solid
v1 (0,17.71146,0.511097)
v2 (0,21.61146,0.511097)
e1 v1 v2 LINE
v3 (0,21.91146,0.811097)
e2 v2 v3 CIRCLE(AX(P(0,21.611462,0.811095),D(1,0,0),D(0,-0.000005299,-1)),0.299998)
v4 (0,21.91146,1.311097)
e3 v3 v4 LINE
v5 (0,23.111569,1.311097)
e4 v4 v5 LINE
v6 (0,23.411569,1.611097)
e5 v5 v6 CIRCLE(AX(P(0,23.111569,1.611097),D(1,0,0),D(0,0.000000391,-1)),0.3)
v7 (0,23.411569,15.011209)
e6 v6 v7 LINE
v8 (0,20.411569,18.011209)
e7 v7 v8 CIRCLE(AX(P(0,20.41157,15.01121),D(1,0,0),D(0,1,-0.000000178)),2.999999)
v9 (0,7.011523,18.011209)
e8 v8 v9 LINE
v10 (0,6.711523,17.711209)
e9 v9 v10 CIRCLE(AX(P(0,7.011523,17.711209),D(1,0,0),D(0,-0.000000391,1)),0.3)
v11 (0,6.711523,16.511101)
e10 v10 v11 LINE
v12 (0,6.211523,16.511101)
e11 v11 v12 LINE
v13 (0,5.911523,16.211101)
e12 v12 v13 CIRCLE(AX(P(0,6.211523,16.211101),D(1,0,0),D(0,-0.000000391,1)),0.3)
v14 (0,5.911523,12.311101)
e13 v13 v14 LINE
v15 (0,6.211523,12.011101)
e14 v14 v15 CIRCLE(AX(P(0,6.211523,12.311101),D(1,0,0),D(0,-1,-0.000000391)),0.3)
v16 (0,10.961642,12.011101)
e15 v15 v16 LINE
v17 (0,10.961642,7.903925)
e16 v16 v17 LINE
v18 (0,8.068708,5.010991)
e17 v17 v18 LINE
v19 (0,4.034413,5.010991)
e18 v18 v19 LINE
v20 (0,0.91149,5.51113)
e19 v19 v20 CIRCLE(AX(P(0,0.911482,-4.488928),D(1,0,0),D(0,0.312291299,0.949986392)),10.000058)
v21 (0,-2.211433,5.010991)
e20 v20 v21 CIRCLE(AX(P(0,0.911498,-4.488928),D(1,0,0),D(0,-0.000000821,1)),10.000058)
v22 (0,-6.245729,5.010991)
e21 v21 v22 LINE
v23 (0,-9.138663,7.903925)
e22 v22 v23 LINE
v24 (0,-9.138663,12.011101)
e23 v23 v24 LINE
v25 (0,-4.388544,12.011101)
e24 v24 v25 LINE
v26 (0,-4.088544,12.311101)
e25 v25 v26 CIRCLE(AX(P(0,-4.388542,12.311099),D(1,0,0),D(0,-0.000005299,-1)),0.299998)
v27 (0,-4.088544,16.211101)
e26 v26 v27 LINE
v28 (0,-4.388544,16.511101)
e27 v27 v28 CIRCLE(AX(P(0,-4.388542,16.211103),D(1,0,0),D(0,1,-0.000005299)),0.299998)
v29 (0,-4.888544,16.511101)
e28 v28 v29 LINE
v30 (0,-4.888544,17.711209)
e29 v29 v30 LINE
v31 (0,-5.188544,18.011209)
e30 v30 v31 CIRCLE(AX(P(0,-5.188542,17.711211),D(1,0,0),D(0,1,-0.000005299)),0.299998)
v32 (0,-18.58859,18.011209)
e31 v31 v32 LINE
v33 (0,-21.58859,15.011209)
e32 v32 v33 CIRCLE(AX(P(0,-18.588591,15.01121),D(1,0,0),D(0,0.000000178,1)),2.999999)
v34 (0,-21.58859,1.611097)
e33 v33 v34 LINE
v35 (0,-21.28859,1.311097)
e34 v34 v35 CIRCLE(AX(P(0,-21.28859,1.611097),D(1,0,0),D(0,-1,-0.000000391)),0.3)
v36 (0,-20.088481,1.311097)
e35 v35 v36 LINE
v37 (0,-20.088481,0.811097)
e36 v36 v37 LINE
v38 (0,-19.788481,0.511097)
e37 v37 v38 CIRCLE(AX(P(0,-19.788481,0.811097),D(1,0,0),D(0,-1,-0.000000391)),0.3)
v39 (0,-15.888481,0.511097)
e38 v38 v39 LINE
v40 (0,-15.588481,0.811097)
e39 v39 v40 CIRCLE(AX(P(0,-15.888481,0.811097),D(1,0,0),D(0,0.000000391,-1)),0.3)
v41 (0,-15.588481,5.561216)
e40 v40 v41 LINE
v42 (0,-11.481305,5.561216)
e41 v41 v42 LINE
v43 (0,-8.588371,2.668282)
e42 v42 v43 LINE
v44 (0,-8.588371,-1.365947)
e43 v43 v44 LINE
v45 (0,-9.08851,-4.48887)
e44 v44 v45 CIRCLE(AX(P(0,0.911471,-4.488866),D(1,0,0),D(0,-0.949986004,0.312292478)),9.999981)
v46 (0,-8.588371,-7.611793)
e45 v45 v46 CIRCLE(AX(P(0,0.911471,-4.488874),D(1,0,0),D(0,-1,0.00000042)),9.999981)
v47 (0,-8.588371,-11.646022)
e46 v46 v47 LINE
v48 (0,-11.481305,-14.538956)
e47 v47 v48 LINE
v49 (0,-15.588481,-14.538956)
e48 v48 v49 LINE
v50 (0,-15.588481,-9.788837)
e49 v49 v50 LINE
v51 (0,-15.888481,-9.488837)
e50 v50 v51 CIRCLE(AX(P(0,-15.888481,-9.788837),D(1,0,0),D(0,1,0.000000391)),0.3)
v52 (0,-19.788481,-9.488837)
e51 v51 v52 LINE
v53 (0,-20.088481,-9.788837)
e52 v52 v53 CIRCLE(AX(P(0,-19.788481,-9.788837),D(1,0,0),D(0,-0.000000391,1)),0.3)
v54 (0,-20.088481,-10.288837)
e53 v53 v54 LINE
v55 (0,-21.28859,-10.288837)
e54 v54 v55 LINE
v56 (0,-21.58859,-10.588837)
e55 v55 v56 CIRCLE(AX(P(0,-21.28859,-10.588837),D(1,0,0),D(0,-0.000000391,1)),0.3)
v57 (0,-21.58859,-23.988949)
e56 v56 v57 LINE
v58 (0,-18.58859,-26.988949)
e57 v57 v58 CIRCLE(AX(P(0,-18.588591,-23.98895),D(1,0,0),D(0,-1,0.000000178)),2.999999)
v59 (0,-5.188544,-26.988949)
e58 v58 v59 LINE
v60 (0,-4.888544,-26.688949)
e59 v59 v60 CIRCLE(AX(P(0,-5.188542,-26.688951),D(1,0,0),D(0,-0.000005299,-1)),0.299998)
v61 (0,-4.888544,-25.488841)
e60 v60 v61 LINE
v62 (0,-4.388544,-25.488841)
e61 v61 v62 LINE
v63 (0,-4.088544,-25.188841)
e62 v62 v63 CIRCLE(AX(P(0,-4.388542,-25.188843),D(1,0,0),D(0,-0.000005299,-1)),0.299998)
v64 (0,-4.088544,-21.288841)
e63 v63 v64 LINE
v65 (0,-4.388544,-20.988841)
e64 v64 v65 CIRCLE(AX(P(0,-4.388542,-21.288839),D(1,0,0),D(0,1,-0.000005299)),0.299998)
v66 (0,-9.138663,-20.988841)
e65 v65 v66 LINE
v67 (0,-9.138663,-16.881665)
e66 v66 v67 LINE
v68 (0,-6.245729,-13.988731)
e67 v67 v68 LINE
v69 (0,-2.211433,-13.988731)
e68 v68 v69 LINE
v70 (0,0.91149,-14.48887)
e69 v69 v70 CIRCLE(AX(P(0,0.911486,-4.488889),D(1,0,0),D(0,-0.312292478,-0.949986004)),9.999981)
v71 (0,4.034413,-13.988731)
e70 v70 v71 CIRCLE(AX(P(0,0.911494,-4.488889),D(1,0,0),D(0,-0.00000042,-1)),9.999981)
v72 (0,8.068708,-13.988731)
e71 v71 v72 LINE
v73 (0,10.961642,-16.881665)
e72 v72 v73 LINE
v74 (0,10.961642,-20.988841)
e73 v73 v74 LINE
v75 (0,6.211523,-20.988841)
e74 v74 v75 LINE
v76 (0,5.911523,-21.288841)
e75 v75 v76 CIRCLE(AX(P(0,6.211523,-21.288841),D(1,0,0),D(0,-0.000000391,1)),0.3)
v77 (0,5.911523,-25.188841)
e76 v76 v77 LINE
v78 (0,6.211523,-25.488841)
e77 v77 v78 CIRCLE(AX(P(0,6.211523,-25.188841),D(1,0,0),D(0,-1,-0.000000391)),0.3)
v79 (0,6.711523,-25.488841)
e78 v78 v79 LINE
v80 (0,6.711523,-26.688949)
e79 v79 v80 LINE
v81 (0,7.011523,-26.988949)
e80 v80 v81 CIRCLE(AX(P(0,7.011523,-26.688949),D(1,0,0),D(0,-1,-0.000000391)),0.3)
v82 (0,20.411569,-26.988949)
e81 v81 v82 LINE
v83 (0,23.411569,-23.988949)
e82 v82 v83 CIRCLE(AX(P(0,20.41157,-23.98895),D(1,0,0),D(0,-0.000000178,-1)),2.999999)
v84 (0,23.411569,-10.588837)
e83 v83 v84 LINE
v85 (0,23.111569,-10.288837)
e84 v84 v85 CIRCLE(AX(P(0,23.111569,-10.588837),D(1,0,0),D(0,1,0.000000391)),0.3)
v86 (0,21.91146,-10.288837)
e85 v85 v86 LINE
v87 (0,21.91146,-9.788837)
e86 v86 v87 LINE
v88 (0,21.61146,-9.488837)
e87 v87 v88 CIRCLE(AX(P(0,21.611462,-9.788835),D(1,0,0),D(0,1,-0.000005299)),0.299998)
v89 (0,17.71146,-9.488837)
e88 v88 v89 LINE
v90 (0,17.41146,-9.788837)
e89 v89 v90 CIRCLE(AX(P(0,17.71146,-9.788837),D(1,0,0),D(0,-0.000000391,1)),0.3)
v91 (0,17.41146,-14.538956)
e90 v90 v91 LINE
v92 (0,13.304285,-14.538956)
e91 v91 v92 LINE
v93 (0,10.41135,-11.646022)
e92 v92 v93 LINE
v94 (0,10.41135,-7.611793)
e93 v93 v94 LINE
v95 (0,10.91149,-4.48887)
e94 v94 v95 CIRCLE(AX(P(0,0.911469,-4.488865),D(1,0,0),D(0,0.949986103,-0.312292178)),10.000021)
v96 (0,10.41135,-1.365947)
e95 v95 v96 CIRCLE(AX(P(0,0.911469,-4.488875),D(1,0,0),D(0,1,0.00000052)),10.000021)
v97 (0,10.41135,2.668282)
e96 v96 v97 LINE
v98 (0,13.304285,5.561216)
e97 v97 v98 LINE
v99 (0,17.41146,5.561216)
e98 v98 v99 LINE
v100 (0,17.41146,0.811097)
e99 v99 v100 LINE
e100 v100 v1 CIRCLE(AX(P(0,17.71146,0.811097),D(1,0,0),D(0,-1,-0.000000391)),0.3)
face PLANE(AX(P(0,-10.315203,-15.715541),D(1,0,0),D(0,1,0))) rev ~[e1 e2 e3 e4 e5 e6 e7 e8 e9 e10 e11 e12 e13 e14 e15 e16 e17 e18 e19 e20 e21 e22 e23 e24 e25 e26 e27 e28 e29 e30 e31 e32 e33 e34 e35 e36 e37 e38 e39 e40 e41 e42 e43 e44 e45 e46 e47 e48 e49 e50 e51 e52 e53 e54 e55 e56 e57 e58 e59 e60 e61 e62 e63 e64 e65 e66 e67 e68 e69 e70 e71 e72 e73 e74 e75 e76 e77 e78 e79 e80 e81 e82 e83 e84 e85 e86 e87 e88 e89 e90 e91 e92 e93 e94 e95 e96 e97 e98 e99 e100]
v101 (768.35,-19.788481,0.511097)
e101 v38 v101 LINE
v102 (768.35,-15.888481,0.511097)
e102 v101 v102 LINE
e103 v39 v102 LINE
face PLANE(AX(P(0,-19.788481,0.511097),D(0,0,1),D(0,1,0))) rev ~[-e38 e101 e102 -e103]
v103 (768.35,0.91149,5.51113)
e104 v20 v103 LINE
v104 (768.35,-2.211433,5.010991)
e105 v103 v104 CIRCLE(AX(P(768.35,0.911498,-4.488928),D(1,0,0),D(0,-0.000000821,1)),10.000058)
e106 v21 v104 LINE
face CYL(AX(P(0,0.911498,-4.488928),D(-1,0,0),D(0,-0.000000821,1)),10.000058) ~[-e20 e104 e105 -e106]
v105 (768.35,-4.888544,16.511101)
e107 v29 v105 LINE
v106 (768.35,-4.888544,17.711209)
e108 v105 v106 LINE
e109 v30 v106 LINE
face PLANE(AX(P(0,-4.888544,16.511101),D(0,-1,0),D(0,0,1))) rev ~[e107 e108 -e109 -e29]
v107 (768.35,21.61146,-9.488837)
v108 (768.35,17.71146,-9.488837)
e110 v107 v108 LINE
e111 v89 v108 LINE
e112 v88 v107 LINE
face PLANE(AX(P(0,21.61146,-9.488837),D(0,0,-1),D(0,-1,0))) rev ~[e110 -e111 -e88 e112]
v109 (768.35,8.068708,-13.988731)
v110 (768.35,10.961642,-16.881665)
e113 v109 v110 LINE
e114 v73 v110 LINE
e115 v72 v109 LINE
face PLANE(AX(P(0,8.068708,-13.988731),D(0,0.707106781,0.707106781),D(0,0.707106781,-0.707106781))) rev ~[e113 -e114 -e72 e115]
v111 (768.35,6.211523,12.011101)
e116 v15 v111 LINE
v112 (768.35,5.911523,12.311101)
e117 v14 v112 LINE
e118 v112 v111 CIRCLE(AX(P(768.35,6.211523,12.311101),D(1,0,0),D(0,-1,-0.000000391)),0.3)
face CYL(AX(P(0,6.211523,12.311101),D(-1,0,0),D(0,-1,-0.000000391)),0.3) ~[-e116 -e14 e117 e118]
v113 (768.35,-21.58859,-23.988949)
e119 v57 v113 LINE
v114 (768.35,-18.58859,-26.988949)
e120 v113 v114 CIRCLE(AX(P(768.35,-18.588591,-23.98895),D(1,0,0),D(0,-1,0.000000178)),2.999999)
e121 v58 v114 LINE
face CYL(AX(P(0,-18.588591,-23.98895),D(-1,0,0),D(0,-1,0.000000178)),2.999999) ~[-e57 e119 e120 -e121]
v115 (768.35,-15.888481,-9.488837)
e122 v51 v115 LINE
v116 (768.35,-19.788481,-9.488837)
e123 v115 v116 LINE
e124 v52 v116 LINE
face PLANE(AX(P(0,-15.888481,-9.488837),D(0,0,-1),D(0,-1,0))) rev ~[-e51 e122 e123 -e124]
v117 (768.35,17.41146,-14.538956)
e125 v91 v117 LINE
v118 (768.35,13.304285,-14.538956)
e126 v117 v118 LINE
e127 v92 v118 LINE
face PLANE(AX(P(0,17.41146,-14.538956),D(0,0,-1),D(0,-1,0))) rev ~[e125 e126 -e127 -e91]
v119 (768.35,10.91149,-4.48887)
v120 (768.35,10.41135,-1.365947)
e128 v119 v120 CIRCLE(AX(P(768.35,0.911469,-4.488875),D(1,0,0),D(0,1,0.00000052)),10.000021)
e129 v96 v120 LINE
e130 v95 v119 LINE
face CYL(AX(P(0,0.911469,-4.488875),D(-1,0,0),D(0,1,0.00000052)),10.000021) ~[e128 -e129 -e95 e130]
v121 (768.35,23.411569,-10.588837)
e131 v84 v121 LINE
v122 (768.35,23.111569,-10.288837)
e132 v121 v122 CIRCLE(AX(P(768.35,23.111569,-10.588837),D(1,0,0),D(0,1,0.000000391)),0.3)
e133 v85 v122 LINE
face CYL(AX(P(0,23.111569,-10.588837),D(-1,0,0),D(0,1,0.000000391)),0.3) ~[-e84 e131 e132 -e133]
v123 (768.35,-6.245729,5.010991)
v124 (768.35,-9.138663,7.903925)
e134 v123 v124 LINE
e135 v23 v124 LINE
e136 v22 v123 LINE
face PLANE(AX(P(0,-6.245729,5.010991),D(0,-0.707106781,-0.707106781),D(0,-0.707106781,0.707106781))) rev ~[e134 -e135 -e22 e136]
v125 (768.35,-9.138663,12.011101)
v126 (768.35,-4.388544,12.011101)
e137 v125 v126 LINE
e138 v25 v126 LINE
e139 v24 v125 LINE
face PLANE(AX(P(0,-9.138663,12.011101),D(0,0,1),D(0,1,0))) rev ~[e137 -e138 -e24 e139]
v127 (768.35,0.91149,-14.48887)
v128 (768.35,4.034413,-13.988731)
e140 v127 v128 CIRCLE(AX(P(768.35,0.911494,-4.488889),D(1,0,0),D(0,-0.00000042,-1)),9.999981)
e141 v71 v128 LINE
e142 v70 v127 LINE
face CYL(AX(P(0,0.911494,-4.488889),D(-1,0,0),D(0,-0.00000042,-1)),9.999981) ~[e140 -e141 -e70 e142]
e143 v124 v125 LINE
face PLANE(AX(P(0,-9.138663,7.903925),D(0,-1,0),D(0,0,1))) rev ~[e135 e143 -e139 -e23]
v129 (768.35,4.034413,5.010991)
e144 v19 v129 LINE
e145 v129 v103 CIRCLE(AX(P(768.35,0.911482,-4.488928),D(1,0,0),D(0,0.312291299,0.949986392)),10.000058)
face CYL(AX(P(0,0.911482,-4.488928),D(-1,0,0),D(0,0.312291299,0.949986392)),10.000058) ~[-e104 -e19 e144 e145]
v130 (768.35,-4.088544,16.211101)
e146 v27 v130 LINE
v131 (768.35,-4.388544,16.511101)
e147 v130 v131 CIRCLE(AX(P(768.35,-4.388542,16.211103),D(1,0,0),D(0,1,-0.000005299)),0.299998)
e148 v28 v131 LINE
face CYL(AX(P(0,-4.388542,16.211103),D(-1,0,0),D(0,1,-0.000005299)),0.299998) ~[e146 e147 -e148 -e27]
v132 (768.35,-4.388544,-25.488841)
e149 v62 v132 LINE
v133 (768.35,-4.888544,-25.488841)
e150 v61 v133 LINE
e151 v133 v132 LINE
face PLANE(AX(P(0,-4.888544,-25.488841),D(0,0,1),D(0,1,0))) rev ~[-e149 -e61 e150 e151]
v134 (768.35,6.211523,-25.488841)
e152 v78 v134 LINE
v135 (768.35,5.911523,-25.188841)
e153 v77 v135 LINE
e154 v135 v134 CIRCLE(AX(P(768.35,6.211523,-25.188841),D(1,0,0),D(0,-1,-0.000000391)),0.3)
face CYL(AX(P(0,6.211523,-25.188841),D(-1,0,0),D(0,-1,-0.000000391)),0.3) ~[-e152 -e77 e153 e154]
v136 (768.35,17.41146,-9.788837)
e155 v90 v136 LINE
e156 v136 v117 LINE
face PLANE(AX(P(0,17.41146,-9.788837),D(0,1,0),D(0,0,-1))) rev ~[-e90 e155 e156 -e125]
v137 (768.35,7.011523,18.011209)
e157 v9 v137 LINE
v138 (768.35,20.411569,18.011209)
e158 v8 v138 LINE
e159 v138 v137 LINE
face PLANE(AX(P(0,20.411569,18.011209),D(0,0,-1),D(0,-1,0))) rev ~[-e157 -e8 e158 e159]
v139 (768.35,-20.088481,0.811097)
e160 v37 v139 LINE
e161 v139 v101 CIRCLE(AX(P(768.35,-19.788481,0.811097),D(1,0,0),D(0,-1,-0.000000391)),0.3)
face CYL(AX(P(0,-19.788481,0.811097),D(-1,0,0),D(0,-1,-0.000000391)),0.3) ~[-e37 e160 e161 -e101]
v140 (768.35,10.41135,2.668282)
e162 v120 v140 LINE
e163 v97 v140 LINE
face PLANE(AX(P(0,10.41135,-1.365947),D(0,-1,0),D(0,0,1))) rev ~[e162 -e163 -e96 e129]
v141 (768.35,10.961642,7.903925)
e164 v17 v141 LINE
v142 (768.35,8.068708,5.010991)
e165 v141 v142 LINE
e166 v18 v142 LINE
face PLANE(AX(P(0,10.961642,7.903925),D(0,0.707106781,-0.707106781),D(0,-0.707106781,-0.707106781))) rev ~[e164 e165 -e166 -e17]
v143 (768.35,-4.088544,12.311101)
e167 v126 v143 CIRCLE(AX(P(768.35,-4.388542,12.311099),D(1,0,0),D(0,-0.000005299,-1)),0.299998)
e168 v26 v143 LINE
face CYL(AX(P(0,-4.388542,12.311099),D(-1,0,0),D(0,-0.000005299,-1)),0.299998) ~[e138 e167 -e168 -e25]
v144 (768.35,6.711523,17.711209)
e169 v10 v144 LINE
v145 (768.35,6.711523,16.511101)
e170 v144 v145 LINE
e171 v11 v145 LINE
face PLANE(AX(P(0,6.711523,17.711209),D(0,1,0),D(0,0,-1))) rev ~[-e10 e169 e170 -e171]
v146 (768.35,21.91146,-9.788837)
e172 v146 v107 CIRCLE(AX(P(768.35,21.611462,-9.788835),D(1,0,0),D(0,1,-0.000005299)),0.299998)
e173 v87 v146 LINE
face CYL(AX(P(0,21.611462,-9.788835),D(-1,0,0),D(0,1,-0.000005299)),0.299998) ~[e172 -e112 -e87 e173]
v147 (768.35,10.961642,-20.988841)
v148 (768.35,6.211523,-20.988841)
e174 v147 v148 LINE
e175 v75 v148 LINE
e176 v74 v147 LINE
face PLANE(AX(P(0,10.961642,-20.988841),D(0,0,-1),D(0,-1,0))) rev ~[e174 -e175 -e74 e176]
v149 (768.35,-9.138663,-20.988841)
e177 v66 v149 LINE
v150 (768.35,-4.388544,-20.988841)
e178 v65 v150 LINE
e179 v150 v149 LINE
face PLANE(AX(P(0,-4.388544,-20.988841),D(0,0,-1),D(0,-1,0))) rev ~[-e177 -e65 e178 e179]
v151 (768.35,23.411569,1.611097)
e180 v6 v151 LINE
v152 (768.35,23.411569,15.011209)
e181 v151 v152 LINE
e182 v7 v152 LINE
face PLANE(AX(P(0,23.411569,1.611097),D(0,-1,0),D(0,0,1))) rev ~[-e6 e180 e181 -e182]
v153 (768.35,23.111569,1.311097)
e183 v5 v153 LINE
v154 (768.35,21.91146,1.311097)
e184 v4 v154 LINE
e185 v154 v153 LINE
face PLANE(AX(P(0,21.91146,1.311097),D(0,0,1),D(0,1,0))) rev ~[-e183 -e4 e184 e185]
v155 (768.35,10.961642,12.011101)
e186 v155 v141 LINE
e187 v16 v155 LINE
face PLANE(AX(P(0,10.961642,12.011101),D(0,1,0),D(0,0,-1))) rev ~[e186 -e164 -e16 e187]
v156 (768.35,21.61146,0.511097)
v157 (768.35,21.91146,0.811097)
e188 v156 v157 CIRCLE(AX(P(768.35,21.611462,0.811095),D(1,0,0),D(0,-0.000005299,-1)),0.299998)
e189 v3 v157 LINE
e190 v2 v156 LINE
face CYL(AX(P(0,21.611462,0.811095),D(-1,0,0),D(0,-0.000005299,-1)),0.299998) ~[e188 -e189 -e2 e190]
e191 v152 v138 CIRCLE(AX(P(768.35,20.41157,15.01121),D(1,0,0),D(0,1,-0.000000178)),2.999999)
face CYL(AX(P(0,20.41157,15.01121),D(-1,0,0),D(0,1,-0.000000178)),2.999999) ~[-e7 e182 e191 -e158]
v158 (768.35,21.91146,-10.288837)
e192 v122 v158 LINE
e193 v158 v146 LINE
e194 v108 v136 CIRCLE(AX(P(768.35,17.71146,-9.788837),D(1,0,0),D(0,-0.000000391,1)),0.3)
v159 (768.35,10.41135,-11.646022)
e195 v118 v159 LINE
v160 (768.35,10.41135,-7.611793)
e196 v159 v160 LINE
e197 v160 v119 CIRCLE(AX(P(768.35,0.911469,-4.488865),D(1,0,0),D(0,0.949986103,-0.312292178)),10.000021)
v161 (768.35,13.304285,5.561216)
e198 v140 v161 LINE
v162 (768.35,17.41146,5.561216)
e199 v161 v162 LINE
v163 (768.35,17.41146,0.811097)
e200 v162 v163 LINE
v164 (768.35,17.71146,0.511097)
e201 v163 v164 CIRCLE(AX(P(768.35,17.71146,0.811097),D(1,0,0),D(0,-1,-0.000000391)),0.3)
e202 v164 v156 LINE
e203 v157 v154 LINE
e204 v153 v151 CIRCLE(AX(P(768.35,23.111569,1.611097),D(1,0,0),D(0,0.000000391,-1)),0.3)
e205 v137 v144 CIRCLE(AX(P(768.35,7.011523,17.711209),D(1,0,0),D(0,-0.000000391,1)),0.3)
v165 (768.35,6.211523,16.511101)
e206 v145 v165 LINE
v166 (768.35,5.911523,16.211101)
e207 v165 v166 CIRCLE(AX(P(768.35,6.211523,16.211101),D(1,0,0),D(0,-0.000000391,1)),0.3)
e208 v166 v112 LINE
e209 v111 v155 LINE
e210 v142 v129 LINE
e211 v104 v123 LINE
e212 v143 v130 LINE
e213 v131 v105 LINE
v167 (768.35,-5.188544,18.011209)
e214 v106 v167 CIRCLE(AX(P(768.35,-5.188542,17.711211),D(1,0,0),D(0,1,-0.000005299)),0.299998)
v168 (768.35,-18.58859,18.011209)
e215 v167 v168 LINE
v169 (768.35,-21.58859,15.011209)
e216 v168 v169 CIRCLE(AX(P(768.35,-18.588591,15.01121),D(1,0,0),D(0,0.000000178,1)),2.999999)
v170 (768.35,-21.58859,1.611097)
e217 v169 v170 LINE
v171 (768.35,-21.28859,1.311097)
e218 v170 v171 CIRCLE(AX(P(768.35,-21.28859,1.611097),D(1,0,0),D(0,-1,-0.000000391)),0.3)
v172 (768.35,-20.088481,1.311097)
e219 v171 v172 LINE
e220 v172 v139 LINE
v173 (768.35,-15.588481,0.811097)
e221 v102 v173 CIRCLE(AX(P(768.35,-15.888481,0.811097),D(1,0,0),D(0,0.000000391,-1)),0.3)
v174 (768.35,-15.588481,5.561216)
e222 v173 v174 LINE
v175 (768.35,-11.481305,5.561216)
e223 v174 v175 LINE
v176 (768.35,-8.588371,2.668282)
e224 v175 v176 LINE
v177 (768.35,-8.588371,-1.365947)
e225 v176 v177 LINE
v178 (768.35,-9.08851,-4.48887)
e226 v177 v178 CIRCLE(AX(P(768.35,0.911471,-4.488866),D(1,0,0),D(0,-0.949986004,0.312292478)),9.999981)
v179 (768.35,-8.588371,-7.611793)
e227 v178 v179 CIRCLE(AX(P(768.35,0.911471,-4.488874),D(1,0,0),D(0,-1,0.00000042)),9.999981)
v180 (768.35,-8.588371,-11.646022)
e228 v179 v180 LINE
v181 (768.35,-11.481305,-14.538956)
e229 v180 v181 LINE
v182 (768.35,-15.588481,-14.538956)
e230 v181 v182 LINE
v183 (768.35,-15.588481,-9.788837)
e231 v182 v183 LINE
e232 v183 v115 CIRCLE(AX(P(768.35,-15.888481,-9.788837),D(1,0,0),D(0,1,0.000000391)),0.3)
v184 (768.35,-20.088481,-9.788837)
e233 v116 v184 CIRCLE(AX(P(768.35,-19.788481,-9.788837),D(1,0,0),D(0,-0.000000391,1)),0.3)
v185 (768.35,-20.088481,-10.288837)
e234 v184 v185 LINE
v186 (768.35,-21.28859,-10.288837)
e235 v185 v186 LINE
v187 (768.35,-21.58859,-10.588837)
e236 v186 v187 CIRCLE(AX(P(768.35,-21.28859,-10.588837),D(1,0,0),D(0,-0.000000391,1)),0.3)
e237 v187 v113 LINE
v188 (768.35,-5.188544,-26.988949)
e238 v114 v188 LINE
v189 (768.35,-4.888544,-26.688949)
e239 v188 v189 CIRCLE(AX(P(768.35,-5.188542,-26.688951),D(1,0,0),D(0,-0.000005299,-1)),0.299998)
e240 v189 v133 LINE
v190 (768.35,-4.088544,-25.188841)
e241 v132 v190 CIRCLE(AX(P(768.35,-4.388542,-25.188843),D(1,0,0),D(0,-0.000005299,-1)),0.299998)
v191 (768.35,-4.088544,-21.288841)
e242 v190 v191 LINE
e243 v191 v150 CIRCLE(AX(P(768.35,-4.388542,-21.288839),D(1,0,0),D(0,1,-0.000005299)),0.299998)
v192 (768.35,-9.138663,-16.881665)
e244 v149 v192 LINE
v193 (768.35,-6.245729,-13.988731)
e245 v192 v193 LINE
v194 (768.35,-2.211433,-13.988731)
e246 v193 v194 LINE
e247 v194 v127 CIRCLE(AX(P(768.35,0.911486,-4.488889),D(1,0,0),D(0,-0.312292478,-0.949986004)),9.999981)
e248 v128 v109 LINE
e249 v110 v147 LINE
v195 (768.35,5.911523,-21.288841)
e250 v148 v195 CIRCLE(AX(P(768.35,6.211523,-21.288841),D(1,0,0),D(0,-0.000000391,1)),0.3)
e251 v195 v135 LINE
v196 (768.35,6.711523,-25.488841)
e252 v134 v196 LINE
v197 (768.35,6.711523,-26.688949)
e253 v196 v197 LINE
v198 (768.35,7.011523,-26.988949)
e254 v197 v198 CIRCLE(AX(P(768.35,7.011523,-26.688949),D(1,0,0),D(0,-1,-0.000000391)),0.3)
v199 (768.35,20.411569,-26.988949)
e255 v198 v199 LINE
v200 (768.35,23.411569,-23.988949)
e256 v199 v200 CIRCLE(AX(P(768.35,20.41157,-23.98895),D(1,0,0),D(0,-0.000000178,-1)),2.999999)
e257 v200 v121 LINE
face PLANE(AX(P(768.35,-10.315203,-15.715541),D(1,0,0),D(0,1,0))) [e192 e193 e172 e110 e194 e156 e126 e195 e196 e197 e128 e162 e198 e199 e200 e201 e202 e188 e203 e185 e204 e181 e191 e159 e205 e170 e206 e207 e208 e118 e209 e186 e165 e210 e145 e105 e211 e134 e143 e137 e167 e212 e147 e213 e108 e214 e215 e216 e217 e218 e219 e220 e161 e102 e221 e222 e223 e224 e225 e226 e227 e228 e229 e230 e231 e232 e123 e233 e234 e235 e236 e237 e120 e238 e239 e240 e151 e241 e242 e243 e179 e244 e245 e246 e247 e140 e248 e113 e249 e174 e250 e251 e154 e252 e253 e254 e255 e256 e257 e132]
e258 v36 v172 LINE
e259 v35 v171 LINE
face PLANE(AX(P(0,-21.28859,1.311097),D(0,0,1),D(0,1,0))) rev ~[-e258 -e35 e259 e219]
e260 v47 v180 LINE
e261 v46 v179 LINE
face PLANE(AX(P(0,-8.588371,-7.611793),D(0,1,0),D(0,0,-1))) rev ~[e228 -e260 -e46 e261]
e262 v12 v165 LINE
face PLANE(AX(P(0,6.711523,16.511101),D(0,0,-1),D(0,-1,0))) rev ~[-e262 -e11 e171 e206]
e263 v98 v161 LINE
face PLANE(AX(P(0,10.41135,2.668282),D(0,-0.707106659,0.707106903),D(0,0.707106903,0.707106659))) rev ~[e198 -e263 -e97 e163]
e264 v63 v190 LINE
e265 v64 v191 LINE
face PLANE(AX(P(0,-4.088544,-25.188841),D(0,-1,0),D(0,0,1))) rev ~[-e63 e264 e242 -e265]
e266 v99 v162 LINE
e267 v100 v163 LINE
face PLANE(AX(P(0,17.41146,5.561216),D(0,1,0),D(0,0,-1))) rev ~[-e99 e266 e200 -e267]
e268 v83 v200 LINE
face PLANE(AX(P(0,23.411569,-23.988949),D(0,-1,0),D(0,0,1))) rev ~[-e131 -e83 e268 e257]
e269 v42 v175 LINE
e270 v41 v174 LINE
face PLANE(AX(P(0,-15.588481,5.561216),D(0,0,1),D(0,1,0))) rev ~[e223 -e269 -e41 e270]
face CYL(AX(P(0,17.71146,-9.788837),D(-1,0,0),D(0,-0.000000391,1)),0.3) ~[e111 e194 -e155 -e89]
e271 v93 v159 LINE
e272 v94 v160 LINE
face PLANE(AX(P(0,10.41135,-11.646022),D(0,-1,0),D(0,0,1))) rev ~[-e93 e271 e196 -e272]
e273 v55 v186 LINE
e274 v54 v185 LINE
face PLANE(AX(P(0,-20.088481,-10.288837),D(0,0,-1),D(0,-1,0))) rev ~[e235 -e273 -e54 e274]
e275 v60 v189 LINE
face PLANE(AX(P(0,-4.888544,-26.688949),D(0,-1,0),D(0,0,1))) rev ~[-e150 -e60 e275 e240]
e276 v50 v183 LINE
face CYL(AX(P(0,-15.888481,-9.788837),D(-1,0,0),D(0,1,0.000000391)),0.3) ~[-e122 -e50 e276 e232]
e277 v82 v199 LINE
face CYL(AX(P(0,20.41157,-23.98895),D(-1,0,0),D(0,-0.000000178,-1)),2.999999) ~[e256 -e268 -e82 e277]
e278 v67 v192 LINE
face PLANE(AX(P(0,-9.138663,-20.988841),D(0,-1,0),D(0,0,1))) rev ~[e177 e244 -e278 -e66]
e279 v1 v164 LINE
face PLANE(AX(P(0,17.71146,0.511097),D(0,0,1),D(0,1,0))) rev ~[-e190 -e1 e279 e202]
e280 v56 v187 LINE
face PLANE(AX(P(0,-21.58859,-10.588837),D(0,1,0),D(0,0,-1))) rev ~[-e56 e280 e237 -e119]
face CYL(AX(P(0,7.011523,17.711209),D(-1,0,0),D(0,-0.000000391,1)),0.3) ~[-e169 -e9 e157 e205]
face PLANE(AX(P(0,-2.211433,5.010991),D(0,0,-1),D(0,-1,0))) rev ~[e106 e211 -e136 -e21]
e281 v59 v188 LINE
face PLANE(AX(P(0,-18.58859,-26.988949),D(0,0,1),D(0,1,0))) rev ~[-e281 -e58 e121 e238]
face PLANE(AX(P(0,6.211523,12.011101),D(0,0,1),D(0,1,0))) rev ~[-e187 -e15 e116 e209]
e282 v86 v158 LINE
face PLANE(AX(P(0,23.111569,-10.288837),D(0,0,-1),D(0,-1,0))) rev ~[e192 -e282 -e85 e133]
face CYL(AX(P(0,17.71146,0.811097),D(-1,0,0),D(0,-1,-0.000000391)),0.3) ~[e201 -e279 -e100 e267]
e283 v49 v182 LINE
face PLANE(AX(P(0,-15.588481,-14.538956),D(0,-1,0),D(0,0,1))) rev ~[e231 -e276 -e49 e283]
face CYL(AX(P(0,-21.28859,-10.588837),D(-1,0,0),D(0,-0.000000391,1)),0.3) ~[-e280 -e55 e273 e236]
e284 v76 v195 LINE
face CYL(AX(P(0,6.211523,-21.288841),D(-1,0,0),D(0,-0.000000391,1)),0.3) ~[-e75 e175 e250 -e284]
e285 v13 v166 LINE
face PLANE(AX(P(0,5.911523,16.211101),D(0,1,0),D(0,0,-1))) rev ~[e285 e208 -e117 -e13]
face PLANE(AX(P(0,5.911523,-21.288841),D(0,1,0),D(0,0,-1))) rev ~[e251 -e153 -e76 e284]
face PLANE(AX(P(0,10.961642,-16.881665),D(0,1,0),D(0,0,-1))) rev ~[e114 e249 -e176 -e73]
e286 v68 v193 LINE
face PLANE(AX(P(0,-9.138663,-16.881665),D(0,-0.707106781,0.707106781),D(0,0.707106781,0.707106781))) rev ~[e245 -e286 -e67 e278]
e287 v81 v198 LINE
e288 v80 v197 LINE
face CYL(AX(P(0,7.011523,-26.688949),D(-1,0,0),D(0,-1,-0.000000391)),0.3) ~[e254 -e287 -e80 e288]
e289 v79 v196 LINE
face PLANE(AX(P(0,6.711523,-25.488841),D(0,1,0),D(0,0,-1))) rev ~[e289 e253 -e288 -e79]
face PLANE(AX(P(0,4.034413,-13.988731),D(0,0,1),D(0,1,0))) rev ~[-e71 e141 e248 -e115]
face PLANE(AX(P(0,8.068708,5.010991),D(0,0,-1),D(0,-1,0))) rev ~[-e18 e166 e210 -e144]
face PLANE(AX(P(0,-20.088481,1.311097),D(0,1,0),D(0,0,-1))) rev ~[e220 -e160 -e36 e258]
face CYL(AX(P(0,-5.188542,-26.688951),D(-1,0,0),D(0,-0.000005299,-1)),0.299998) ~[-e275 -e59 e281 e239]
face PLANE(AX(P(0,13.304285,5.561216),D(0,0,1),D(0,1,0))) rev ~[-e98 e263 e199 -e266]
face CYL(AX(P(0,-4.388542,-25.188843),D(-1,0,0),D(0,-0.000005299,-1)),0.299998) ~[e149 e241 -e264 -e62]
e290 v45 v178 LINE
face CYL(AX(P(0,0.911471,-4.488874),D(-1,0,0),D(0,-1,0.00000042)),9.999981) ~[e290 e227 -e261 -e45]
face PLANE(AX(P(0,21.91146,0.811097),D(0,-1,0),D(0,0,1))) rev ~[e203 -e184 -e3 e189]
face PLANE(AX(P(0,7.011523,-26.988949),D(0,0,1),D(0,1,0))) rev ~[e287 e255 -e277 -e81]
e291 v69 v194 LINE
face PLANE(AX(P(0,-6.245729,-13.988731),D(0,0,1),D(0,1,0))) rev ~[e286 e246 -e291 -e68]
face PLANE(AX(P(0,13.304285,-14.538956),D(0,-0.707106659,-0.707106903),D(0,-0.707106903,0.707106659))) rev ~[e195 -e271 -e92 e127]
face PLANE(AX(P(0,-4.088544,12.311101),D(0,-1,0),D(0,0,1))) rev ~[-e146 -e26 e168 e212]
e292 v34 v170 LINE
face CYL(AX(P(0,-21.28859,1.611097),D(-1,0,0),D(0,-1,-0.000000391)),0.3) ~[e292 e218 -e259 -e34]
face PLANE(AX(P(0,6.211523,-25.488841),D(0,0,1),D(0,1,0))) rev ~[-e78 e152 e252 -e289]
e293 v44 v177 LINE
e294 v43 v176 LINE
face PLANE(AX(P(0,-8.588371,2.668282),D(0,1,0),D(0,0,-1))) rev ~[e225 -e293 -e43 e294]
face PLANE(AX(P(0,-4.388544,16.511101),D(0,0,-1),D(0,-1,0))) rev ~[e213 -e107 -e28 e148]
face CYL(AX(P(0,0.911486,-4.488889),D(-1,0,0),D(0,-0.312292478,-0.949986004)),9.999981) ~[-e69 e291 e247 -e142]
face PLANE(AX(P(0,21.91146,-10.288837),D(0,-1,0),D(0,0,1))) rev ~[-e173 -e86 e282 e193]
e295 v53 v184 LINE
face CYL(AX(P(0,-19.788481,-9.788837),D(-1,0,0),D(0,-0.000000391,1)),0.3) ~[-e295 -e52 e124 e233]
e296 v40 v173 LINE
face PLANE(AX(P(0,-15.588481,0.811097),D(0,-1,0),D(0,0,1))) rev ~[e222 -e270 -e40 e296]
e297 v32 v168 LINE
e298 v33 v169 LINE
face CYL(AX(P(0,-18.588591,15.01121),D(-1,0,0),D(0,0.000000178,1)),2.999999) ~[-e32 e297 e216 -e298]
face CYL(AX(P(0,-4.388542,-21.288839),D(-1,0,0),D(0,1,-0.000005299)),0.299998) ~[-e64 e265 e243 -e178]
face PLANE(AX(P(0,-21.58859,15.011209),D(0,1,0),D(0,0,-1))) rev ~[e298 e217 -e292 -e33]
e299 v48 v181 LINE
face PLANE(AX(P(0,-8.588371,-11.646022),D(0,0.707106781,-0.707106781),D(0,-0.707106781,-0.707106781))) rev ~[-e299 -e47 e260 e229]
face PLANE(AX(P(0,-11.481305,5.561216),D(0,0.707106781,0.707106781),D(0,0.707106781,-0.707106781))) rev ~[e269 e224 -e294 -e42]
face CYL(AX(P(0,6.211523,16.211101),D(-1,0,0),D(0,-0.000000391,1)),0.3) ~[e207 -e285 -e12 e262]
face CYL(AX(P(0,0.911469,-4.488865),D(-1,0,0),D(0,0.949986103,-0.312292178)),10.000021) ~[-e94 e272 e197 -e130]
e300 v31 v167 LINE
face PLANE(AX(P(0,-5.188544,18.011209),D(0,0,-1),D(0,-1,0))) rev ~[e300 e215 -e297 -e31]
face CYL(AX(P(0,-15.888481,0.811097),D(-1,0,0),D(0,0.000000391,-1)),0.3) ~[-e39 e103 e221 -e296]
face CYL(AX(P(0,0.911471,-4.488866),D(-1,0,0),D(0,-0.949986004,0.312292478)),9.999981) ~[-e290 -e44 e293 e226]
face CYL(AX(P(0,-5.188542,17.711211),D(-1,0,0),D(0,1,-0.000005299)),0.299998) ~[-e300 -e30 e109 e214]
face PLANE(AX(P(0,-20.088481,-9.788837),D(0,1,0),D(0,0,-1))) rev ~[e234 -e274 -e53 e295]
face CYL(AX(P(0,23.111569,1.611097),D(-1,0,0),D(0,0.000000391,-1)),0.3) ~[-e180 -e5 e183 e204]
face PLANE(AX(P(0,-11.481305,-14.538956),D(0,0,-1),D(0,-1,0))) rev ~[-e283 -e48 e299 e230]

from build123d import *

# Parameters (mm, degrees)
F1_DEPTH = 768.35


with BuildPart() as f1:
    # F0 (on Right) → F1 (new body)
    with BuildSketch(Plane.YZ):
        with BuildLine():
            Line((-20.088481, -9.788837), (-20.088481, -10.288837))
            Line((-20.088481, -10.288837), (-21.28859, -10.288837))
            ThreePointArc((-21.28859, -10.288837), (-21.500722, -10.376705), (-21.58859, -10.588837))
            Line((-21.58859, -10.588837), (-21.58859, -23.988949))
            ThreePointArc((-21.58859, -23.988949), (-20.70991, -26.11027), (-18.58859, -26.988949))
            Line((-18.58859, -26.988949), (-5.188544, -26.988949))
            ThreePointArc((-5.188544, -26.988949), (-4.976411, -26.901081), (-4.888544, -26.688949))
            Line((-4.888544, -26.688949), (-4.888544, -25.488841))
            Line((-4.888544, -25.488841), (-4.388544, -25.488841))
            ThreePointArc((-4.388544, -25.488841), (-4.176411, -25.400973), (-4.088544, -25.188841))
            Line((-4.088544, -25.188841), (-4.088544, -21.288841))
            ThreePointArc((-4.088544, -21.288841), (-4.176411, -21.076709), (-4.388544, -20.988841))
            Line((-4.388544, -20.988841), (-9.138663, -20.988841))
            Line((-9.138663, -20.988841), (-9.138663, -16.881665))
            Line((-9.138663, -16.881665), (-6.245729, -13.988731))
            Line((-6.245729, -13.988731), (-2.211433, -13.988731))
            ThreePointArc((-2.211433, -13.988731), (-0.669869, -14.363044), (0.91149, -14.48887))
            Line((0.91149, -14.48887), (0.91149, -4.48887))
            Line((0.91149, -4.48887), (-9.08851, -4.48887))
            ThreePointArc((-9.08851, -4.48887), (-8.962684, -6.070229), (-8.588371, -7.611793))
            Line((-8.588371, -7.611793), (-8.588371, -11.646022))
            Line((-8.588371, -11.646022), (-11.481305, -14.538956))
            Line((-11.481305, -14.538956), (-15.588481, -14.538956))
            Line((-15.588481, -14.538956), (-15.588481, -9.788837))
            ThreePointArc((-15.588481, -9.788837), (-15.676349, -9.576705), (-15.888481, -9.488837))
            Line((-15.888481, -9.488837), (-19.788481, -9.488837))
            ThreePointArc((-19.788481, -9.488837), (-20.000613, -9.576705), (-20.088481, -9.788837))
        make_face()
        with BuildLine():
            ThreePointArc((-8.588371, -1.365947), (-8.962684, -2.907511), (-9.08851, -4.48887))
            Line((-9.08851, -4.48887), (0.91149, -4.48887))
            Line((0.91149, -4.48887), (0.91149, 5.51113))
            ThreePointArc((0.91149, 5.51113), (-0.669869, 5.385303), (-2.211433, 5.010991))
            Line((-2.211433, 5.010991), (-6.245729, 5.010991))
            Line((-6.245729, 5.010991), (-9.138663, 7.903925))
            Line((-9.138663, 7.903925), (-9.138663, 12.011101))
            Line((-9.138663, 12.011101), (-4.388544, 12.011101))
            ThreePointArc((-4.388544, 12.011101), (-4.176411, 12.098969), (-4.088544, 12.311101))
            Line((-4.088544, 12.311101), (-4.088544, 16.211101))
            ThreePointArc((-4.088544, 16.211101), (-4.176411, 16.423233), (-4.388544, 16.511101))
            Line((-4.388544, 16.511101), (-4.888544, 16.511101))
            Line((-4.888544, 16.511101), (-4.888544, 17.711209))
            ThreePointArc((-4.888544, 17.711209), (-4.976411, 17.923341), (-5.188544, 18.011209))
            Line((-5.188544, 18.011209), (-18.58859, 18.011209))
            ThreePointArc((-18.58859, 18.011209), (-20.70991, 17.13253), (-21.58859, 15.011209))
            Line((-21.58859, 15.011209), (-21.58859, 1.611097))
            ThreePointArc((-21.58859, 1.611097), (-21.500722, 1.398965), (-21.28859, 1.311097))
            Line((-21.28859, 1.311097), (-20.088481, 1.311097))
            Line((-20.088481, 1.311097), (-20.088481, 0.811097))
            ThreePointArc((-20.088481, 0.811097), (-20.000613, 0.598965), (-19.788481, 0.511097))
            Line((-19.788481, 0.511097), (-15.888481, 0.511097))
            ThreePointArc((-15.888481, 0.511097), (-15.676349, 0.598965), (-15.588481, 0.811097))
            Line((-15.588481, 0.811097), (-15.588481, 5.561216))
            Line((-15.588481, 5.561216), (-11.481305, 5.561216))
            Line((-11.481305, 5.561216), (-8.588371, 2.668282))
            Line((-8.588371, 2.668282), (-8.588371, -1.365947))
        make_face()
        with BuildLine():
            Line((0.91149, 5.51113), (0.91149, -4.48887))
            Line((0.91149, -4.48887), (10.91149, -4.48887))
            ThreePointArc((10.91149, -4.48887), (10.785663, -2.907511), (10.41135, -1.365947))
            Line((10.41135, -1.365947), (10.41135, 2.668282))
            Line((10.41135, 2.668282), (13.304285, 5.561216))
            Line((13.304285, 5.561216), (14.016842, 5.561216))
            Line((14.016842, 5.561216), (17.41146, 5.561216))
            Line((17.41146, 5.561216), (17.41146, 0.811097))
            ThreePointArc((17.41146, 0.811097), (17.499328, 0.598965), (17.71146, 0.511097))
            Line((17.71146, 0.511097), (21.61146, 0.511097))
            ThreePointArc((21.61146, 0.511097), (21.823593, 0.598965), (21.91146, 0.811097))
            Line((21.91146, 0.811097), (21.91146, 1.311097))
            Line((21.91146, 1.311097), (23.111569, 1.311097))
            ThreePointArc((23.111569, 1.311097), (23.323701, 1.398965), (23.411569, 1.611097))
            Line((23.411569, 1.611097), (23.411569, 15.011209))
            ThreePointArc((23.411569, 15.011209), (22.532889, 17.13253), (20.411569, 18.011209))
            Line((20.411569, 18.011209), (7.011523, 18.011209))
            ThreePointArc((7.011523, 18.011209), (6.799391, 17.923341), (6.711523, 17.711209))
            Line((6.711523, 17.711209), (6.711523, 16.511101))
            Line((6.711523, 16.511101), (6.211523, 16.511101))
            ThreePointArc((6.211523, 16.511101), (5.999391, 16.423233), (5.911523, 16.211101))
            Line((5.911523, 16.211101), (5.911523, 12.311101))
            ThreePointArc((5.911523, 12.311101), (5.999391, 12.098969), (6.211523, 12.011101))
            Line((6.211523, 12.011101), (10.961642, 12.011101))
            Line((10.961642, 12.011101), (10.961642, 7.903925))
            Line((10.961642, 7.903925), (8.068708, 5.010991))
            Line((8.068708, 5.010991), (4.034413, 5.010991))
            ThreePointArc((4.034413, 5.010991), (2.492849, 5.385303), (0.91149, 5.51113))
        make_face()
        with BuildLine():
            Line((10.91149, -4.48887), (0.91149, -4.48887))
            Line((0.91149, -4.48887), (0.91149, -14.48887))
            ThreePointArc((0.91149, -14.48887), (2.492849, -14.363044), (4.034413, -13.988731))
            Line((4.034413, -13.988731), (8.068708, -13.988731))
            Line((8.068708, -13.988731), (10.961642, -16.881665))
            Line((10.961642, -16.881665), (10.961642, -20.988841))
            Line((10.961642, -20.988841), (6.211523, -20.988841))
            ThreePointArc((6.211523, -20.988841), (5.999391, -21.076709), (5.911523, -21.288841))
            Line((5.911523, -21.288841), (5.911523, -25.188841))
            ThreePointArc((5.911523, -25.188841), (5.999391, -25.400973), (6.211523, -25.488841))
            Line((6.211523, -25.488841), (6.711523, -25.488841))
            Line((6.711523, -25.488841), (6.711523, -26.688949))
            ThreePointArc((6.711523, -26.688949), (6.799391, -26.901081), (7.011523, -26.988949))
            Line((7.011523, -26.988949), (20.411569, -26.988949))
            ThreePointArc((20.411569, -26.988949), (22.532889, -26.11027), (23.411569, -23.988949))
            Line((23.411569, -23.988949), (23.411569, -10.588837))
            ThreePointArc((23.411569, -10.588837), (23.323701, -10.376705), (23.111569, -10.288837))
            Line((23.111569, -10.288837), (21.91146, -10.288837))
            Line((21.91146, -10.288837), (21.91146, -9.788837))
            ThreePointArc((21.91146, -9.788837), (21.823593, -9.576705), (21.61146, -9.488837))
            Line((21.61146, -9.488837), (17.71146, -9.488837))
            ThreePointArc((17.71146, -9.488837), (17.499328, -9.576705), (17.41146, -9.788837))
            Line((17.41146, -9.788837), (17.41146, -14.538956))
            Line((17.41146, -14.538956), (13.304285, -14.538956))
            Line((13.304285, -14.538956), (10.41135, -11.646022))
            Line((10.41135, -11.646022), (10.41135, -7.611793))
            ThreePointArc((10.41135, -7.611793), (10.785663, -6.070229), (10.91149, -4.48887))
        make_face()
    extrude(amount=F1_DEPTH)


solid = f1.part
